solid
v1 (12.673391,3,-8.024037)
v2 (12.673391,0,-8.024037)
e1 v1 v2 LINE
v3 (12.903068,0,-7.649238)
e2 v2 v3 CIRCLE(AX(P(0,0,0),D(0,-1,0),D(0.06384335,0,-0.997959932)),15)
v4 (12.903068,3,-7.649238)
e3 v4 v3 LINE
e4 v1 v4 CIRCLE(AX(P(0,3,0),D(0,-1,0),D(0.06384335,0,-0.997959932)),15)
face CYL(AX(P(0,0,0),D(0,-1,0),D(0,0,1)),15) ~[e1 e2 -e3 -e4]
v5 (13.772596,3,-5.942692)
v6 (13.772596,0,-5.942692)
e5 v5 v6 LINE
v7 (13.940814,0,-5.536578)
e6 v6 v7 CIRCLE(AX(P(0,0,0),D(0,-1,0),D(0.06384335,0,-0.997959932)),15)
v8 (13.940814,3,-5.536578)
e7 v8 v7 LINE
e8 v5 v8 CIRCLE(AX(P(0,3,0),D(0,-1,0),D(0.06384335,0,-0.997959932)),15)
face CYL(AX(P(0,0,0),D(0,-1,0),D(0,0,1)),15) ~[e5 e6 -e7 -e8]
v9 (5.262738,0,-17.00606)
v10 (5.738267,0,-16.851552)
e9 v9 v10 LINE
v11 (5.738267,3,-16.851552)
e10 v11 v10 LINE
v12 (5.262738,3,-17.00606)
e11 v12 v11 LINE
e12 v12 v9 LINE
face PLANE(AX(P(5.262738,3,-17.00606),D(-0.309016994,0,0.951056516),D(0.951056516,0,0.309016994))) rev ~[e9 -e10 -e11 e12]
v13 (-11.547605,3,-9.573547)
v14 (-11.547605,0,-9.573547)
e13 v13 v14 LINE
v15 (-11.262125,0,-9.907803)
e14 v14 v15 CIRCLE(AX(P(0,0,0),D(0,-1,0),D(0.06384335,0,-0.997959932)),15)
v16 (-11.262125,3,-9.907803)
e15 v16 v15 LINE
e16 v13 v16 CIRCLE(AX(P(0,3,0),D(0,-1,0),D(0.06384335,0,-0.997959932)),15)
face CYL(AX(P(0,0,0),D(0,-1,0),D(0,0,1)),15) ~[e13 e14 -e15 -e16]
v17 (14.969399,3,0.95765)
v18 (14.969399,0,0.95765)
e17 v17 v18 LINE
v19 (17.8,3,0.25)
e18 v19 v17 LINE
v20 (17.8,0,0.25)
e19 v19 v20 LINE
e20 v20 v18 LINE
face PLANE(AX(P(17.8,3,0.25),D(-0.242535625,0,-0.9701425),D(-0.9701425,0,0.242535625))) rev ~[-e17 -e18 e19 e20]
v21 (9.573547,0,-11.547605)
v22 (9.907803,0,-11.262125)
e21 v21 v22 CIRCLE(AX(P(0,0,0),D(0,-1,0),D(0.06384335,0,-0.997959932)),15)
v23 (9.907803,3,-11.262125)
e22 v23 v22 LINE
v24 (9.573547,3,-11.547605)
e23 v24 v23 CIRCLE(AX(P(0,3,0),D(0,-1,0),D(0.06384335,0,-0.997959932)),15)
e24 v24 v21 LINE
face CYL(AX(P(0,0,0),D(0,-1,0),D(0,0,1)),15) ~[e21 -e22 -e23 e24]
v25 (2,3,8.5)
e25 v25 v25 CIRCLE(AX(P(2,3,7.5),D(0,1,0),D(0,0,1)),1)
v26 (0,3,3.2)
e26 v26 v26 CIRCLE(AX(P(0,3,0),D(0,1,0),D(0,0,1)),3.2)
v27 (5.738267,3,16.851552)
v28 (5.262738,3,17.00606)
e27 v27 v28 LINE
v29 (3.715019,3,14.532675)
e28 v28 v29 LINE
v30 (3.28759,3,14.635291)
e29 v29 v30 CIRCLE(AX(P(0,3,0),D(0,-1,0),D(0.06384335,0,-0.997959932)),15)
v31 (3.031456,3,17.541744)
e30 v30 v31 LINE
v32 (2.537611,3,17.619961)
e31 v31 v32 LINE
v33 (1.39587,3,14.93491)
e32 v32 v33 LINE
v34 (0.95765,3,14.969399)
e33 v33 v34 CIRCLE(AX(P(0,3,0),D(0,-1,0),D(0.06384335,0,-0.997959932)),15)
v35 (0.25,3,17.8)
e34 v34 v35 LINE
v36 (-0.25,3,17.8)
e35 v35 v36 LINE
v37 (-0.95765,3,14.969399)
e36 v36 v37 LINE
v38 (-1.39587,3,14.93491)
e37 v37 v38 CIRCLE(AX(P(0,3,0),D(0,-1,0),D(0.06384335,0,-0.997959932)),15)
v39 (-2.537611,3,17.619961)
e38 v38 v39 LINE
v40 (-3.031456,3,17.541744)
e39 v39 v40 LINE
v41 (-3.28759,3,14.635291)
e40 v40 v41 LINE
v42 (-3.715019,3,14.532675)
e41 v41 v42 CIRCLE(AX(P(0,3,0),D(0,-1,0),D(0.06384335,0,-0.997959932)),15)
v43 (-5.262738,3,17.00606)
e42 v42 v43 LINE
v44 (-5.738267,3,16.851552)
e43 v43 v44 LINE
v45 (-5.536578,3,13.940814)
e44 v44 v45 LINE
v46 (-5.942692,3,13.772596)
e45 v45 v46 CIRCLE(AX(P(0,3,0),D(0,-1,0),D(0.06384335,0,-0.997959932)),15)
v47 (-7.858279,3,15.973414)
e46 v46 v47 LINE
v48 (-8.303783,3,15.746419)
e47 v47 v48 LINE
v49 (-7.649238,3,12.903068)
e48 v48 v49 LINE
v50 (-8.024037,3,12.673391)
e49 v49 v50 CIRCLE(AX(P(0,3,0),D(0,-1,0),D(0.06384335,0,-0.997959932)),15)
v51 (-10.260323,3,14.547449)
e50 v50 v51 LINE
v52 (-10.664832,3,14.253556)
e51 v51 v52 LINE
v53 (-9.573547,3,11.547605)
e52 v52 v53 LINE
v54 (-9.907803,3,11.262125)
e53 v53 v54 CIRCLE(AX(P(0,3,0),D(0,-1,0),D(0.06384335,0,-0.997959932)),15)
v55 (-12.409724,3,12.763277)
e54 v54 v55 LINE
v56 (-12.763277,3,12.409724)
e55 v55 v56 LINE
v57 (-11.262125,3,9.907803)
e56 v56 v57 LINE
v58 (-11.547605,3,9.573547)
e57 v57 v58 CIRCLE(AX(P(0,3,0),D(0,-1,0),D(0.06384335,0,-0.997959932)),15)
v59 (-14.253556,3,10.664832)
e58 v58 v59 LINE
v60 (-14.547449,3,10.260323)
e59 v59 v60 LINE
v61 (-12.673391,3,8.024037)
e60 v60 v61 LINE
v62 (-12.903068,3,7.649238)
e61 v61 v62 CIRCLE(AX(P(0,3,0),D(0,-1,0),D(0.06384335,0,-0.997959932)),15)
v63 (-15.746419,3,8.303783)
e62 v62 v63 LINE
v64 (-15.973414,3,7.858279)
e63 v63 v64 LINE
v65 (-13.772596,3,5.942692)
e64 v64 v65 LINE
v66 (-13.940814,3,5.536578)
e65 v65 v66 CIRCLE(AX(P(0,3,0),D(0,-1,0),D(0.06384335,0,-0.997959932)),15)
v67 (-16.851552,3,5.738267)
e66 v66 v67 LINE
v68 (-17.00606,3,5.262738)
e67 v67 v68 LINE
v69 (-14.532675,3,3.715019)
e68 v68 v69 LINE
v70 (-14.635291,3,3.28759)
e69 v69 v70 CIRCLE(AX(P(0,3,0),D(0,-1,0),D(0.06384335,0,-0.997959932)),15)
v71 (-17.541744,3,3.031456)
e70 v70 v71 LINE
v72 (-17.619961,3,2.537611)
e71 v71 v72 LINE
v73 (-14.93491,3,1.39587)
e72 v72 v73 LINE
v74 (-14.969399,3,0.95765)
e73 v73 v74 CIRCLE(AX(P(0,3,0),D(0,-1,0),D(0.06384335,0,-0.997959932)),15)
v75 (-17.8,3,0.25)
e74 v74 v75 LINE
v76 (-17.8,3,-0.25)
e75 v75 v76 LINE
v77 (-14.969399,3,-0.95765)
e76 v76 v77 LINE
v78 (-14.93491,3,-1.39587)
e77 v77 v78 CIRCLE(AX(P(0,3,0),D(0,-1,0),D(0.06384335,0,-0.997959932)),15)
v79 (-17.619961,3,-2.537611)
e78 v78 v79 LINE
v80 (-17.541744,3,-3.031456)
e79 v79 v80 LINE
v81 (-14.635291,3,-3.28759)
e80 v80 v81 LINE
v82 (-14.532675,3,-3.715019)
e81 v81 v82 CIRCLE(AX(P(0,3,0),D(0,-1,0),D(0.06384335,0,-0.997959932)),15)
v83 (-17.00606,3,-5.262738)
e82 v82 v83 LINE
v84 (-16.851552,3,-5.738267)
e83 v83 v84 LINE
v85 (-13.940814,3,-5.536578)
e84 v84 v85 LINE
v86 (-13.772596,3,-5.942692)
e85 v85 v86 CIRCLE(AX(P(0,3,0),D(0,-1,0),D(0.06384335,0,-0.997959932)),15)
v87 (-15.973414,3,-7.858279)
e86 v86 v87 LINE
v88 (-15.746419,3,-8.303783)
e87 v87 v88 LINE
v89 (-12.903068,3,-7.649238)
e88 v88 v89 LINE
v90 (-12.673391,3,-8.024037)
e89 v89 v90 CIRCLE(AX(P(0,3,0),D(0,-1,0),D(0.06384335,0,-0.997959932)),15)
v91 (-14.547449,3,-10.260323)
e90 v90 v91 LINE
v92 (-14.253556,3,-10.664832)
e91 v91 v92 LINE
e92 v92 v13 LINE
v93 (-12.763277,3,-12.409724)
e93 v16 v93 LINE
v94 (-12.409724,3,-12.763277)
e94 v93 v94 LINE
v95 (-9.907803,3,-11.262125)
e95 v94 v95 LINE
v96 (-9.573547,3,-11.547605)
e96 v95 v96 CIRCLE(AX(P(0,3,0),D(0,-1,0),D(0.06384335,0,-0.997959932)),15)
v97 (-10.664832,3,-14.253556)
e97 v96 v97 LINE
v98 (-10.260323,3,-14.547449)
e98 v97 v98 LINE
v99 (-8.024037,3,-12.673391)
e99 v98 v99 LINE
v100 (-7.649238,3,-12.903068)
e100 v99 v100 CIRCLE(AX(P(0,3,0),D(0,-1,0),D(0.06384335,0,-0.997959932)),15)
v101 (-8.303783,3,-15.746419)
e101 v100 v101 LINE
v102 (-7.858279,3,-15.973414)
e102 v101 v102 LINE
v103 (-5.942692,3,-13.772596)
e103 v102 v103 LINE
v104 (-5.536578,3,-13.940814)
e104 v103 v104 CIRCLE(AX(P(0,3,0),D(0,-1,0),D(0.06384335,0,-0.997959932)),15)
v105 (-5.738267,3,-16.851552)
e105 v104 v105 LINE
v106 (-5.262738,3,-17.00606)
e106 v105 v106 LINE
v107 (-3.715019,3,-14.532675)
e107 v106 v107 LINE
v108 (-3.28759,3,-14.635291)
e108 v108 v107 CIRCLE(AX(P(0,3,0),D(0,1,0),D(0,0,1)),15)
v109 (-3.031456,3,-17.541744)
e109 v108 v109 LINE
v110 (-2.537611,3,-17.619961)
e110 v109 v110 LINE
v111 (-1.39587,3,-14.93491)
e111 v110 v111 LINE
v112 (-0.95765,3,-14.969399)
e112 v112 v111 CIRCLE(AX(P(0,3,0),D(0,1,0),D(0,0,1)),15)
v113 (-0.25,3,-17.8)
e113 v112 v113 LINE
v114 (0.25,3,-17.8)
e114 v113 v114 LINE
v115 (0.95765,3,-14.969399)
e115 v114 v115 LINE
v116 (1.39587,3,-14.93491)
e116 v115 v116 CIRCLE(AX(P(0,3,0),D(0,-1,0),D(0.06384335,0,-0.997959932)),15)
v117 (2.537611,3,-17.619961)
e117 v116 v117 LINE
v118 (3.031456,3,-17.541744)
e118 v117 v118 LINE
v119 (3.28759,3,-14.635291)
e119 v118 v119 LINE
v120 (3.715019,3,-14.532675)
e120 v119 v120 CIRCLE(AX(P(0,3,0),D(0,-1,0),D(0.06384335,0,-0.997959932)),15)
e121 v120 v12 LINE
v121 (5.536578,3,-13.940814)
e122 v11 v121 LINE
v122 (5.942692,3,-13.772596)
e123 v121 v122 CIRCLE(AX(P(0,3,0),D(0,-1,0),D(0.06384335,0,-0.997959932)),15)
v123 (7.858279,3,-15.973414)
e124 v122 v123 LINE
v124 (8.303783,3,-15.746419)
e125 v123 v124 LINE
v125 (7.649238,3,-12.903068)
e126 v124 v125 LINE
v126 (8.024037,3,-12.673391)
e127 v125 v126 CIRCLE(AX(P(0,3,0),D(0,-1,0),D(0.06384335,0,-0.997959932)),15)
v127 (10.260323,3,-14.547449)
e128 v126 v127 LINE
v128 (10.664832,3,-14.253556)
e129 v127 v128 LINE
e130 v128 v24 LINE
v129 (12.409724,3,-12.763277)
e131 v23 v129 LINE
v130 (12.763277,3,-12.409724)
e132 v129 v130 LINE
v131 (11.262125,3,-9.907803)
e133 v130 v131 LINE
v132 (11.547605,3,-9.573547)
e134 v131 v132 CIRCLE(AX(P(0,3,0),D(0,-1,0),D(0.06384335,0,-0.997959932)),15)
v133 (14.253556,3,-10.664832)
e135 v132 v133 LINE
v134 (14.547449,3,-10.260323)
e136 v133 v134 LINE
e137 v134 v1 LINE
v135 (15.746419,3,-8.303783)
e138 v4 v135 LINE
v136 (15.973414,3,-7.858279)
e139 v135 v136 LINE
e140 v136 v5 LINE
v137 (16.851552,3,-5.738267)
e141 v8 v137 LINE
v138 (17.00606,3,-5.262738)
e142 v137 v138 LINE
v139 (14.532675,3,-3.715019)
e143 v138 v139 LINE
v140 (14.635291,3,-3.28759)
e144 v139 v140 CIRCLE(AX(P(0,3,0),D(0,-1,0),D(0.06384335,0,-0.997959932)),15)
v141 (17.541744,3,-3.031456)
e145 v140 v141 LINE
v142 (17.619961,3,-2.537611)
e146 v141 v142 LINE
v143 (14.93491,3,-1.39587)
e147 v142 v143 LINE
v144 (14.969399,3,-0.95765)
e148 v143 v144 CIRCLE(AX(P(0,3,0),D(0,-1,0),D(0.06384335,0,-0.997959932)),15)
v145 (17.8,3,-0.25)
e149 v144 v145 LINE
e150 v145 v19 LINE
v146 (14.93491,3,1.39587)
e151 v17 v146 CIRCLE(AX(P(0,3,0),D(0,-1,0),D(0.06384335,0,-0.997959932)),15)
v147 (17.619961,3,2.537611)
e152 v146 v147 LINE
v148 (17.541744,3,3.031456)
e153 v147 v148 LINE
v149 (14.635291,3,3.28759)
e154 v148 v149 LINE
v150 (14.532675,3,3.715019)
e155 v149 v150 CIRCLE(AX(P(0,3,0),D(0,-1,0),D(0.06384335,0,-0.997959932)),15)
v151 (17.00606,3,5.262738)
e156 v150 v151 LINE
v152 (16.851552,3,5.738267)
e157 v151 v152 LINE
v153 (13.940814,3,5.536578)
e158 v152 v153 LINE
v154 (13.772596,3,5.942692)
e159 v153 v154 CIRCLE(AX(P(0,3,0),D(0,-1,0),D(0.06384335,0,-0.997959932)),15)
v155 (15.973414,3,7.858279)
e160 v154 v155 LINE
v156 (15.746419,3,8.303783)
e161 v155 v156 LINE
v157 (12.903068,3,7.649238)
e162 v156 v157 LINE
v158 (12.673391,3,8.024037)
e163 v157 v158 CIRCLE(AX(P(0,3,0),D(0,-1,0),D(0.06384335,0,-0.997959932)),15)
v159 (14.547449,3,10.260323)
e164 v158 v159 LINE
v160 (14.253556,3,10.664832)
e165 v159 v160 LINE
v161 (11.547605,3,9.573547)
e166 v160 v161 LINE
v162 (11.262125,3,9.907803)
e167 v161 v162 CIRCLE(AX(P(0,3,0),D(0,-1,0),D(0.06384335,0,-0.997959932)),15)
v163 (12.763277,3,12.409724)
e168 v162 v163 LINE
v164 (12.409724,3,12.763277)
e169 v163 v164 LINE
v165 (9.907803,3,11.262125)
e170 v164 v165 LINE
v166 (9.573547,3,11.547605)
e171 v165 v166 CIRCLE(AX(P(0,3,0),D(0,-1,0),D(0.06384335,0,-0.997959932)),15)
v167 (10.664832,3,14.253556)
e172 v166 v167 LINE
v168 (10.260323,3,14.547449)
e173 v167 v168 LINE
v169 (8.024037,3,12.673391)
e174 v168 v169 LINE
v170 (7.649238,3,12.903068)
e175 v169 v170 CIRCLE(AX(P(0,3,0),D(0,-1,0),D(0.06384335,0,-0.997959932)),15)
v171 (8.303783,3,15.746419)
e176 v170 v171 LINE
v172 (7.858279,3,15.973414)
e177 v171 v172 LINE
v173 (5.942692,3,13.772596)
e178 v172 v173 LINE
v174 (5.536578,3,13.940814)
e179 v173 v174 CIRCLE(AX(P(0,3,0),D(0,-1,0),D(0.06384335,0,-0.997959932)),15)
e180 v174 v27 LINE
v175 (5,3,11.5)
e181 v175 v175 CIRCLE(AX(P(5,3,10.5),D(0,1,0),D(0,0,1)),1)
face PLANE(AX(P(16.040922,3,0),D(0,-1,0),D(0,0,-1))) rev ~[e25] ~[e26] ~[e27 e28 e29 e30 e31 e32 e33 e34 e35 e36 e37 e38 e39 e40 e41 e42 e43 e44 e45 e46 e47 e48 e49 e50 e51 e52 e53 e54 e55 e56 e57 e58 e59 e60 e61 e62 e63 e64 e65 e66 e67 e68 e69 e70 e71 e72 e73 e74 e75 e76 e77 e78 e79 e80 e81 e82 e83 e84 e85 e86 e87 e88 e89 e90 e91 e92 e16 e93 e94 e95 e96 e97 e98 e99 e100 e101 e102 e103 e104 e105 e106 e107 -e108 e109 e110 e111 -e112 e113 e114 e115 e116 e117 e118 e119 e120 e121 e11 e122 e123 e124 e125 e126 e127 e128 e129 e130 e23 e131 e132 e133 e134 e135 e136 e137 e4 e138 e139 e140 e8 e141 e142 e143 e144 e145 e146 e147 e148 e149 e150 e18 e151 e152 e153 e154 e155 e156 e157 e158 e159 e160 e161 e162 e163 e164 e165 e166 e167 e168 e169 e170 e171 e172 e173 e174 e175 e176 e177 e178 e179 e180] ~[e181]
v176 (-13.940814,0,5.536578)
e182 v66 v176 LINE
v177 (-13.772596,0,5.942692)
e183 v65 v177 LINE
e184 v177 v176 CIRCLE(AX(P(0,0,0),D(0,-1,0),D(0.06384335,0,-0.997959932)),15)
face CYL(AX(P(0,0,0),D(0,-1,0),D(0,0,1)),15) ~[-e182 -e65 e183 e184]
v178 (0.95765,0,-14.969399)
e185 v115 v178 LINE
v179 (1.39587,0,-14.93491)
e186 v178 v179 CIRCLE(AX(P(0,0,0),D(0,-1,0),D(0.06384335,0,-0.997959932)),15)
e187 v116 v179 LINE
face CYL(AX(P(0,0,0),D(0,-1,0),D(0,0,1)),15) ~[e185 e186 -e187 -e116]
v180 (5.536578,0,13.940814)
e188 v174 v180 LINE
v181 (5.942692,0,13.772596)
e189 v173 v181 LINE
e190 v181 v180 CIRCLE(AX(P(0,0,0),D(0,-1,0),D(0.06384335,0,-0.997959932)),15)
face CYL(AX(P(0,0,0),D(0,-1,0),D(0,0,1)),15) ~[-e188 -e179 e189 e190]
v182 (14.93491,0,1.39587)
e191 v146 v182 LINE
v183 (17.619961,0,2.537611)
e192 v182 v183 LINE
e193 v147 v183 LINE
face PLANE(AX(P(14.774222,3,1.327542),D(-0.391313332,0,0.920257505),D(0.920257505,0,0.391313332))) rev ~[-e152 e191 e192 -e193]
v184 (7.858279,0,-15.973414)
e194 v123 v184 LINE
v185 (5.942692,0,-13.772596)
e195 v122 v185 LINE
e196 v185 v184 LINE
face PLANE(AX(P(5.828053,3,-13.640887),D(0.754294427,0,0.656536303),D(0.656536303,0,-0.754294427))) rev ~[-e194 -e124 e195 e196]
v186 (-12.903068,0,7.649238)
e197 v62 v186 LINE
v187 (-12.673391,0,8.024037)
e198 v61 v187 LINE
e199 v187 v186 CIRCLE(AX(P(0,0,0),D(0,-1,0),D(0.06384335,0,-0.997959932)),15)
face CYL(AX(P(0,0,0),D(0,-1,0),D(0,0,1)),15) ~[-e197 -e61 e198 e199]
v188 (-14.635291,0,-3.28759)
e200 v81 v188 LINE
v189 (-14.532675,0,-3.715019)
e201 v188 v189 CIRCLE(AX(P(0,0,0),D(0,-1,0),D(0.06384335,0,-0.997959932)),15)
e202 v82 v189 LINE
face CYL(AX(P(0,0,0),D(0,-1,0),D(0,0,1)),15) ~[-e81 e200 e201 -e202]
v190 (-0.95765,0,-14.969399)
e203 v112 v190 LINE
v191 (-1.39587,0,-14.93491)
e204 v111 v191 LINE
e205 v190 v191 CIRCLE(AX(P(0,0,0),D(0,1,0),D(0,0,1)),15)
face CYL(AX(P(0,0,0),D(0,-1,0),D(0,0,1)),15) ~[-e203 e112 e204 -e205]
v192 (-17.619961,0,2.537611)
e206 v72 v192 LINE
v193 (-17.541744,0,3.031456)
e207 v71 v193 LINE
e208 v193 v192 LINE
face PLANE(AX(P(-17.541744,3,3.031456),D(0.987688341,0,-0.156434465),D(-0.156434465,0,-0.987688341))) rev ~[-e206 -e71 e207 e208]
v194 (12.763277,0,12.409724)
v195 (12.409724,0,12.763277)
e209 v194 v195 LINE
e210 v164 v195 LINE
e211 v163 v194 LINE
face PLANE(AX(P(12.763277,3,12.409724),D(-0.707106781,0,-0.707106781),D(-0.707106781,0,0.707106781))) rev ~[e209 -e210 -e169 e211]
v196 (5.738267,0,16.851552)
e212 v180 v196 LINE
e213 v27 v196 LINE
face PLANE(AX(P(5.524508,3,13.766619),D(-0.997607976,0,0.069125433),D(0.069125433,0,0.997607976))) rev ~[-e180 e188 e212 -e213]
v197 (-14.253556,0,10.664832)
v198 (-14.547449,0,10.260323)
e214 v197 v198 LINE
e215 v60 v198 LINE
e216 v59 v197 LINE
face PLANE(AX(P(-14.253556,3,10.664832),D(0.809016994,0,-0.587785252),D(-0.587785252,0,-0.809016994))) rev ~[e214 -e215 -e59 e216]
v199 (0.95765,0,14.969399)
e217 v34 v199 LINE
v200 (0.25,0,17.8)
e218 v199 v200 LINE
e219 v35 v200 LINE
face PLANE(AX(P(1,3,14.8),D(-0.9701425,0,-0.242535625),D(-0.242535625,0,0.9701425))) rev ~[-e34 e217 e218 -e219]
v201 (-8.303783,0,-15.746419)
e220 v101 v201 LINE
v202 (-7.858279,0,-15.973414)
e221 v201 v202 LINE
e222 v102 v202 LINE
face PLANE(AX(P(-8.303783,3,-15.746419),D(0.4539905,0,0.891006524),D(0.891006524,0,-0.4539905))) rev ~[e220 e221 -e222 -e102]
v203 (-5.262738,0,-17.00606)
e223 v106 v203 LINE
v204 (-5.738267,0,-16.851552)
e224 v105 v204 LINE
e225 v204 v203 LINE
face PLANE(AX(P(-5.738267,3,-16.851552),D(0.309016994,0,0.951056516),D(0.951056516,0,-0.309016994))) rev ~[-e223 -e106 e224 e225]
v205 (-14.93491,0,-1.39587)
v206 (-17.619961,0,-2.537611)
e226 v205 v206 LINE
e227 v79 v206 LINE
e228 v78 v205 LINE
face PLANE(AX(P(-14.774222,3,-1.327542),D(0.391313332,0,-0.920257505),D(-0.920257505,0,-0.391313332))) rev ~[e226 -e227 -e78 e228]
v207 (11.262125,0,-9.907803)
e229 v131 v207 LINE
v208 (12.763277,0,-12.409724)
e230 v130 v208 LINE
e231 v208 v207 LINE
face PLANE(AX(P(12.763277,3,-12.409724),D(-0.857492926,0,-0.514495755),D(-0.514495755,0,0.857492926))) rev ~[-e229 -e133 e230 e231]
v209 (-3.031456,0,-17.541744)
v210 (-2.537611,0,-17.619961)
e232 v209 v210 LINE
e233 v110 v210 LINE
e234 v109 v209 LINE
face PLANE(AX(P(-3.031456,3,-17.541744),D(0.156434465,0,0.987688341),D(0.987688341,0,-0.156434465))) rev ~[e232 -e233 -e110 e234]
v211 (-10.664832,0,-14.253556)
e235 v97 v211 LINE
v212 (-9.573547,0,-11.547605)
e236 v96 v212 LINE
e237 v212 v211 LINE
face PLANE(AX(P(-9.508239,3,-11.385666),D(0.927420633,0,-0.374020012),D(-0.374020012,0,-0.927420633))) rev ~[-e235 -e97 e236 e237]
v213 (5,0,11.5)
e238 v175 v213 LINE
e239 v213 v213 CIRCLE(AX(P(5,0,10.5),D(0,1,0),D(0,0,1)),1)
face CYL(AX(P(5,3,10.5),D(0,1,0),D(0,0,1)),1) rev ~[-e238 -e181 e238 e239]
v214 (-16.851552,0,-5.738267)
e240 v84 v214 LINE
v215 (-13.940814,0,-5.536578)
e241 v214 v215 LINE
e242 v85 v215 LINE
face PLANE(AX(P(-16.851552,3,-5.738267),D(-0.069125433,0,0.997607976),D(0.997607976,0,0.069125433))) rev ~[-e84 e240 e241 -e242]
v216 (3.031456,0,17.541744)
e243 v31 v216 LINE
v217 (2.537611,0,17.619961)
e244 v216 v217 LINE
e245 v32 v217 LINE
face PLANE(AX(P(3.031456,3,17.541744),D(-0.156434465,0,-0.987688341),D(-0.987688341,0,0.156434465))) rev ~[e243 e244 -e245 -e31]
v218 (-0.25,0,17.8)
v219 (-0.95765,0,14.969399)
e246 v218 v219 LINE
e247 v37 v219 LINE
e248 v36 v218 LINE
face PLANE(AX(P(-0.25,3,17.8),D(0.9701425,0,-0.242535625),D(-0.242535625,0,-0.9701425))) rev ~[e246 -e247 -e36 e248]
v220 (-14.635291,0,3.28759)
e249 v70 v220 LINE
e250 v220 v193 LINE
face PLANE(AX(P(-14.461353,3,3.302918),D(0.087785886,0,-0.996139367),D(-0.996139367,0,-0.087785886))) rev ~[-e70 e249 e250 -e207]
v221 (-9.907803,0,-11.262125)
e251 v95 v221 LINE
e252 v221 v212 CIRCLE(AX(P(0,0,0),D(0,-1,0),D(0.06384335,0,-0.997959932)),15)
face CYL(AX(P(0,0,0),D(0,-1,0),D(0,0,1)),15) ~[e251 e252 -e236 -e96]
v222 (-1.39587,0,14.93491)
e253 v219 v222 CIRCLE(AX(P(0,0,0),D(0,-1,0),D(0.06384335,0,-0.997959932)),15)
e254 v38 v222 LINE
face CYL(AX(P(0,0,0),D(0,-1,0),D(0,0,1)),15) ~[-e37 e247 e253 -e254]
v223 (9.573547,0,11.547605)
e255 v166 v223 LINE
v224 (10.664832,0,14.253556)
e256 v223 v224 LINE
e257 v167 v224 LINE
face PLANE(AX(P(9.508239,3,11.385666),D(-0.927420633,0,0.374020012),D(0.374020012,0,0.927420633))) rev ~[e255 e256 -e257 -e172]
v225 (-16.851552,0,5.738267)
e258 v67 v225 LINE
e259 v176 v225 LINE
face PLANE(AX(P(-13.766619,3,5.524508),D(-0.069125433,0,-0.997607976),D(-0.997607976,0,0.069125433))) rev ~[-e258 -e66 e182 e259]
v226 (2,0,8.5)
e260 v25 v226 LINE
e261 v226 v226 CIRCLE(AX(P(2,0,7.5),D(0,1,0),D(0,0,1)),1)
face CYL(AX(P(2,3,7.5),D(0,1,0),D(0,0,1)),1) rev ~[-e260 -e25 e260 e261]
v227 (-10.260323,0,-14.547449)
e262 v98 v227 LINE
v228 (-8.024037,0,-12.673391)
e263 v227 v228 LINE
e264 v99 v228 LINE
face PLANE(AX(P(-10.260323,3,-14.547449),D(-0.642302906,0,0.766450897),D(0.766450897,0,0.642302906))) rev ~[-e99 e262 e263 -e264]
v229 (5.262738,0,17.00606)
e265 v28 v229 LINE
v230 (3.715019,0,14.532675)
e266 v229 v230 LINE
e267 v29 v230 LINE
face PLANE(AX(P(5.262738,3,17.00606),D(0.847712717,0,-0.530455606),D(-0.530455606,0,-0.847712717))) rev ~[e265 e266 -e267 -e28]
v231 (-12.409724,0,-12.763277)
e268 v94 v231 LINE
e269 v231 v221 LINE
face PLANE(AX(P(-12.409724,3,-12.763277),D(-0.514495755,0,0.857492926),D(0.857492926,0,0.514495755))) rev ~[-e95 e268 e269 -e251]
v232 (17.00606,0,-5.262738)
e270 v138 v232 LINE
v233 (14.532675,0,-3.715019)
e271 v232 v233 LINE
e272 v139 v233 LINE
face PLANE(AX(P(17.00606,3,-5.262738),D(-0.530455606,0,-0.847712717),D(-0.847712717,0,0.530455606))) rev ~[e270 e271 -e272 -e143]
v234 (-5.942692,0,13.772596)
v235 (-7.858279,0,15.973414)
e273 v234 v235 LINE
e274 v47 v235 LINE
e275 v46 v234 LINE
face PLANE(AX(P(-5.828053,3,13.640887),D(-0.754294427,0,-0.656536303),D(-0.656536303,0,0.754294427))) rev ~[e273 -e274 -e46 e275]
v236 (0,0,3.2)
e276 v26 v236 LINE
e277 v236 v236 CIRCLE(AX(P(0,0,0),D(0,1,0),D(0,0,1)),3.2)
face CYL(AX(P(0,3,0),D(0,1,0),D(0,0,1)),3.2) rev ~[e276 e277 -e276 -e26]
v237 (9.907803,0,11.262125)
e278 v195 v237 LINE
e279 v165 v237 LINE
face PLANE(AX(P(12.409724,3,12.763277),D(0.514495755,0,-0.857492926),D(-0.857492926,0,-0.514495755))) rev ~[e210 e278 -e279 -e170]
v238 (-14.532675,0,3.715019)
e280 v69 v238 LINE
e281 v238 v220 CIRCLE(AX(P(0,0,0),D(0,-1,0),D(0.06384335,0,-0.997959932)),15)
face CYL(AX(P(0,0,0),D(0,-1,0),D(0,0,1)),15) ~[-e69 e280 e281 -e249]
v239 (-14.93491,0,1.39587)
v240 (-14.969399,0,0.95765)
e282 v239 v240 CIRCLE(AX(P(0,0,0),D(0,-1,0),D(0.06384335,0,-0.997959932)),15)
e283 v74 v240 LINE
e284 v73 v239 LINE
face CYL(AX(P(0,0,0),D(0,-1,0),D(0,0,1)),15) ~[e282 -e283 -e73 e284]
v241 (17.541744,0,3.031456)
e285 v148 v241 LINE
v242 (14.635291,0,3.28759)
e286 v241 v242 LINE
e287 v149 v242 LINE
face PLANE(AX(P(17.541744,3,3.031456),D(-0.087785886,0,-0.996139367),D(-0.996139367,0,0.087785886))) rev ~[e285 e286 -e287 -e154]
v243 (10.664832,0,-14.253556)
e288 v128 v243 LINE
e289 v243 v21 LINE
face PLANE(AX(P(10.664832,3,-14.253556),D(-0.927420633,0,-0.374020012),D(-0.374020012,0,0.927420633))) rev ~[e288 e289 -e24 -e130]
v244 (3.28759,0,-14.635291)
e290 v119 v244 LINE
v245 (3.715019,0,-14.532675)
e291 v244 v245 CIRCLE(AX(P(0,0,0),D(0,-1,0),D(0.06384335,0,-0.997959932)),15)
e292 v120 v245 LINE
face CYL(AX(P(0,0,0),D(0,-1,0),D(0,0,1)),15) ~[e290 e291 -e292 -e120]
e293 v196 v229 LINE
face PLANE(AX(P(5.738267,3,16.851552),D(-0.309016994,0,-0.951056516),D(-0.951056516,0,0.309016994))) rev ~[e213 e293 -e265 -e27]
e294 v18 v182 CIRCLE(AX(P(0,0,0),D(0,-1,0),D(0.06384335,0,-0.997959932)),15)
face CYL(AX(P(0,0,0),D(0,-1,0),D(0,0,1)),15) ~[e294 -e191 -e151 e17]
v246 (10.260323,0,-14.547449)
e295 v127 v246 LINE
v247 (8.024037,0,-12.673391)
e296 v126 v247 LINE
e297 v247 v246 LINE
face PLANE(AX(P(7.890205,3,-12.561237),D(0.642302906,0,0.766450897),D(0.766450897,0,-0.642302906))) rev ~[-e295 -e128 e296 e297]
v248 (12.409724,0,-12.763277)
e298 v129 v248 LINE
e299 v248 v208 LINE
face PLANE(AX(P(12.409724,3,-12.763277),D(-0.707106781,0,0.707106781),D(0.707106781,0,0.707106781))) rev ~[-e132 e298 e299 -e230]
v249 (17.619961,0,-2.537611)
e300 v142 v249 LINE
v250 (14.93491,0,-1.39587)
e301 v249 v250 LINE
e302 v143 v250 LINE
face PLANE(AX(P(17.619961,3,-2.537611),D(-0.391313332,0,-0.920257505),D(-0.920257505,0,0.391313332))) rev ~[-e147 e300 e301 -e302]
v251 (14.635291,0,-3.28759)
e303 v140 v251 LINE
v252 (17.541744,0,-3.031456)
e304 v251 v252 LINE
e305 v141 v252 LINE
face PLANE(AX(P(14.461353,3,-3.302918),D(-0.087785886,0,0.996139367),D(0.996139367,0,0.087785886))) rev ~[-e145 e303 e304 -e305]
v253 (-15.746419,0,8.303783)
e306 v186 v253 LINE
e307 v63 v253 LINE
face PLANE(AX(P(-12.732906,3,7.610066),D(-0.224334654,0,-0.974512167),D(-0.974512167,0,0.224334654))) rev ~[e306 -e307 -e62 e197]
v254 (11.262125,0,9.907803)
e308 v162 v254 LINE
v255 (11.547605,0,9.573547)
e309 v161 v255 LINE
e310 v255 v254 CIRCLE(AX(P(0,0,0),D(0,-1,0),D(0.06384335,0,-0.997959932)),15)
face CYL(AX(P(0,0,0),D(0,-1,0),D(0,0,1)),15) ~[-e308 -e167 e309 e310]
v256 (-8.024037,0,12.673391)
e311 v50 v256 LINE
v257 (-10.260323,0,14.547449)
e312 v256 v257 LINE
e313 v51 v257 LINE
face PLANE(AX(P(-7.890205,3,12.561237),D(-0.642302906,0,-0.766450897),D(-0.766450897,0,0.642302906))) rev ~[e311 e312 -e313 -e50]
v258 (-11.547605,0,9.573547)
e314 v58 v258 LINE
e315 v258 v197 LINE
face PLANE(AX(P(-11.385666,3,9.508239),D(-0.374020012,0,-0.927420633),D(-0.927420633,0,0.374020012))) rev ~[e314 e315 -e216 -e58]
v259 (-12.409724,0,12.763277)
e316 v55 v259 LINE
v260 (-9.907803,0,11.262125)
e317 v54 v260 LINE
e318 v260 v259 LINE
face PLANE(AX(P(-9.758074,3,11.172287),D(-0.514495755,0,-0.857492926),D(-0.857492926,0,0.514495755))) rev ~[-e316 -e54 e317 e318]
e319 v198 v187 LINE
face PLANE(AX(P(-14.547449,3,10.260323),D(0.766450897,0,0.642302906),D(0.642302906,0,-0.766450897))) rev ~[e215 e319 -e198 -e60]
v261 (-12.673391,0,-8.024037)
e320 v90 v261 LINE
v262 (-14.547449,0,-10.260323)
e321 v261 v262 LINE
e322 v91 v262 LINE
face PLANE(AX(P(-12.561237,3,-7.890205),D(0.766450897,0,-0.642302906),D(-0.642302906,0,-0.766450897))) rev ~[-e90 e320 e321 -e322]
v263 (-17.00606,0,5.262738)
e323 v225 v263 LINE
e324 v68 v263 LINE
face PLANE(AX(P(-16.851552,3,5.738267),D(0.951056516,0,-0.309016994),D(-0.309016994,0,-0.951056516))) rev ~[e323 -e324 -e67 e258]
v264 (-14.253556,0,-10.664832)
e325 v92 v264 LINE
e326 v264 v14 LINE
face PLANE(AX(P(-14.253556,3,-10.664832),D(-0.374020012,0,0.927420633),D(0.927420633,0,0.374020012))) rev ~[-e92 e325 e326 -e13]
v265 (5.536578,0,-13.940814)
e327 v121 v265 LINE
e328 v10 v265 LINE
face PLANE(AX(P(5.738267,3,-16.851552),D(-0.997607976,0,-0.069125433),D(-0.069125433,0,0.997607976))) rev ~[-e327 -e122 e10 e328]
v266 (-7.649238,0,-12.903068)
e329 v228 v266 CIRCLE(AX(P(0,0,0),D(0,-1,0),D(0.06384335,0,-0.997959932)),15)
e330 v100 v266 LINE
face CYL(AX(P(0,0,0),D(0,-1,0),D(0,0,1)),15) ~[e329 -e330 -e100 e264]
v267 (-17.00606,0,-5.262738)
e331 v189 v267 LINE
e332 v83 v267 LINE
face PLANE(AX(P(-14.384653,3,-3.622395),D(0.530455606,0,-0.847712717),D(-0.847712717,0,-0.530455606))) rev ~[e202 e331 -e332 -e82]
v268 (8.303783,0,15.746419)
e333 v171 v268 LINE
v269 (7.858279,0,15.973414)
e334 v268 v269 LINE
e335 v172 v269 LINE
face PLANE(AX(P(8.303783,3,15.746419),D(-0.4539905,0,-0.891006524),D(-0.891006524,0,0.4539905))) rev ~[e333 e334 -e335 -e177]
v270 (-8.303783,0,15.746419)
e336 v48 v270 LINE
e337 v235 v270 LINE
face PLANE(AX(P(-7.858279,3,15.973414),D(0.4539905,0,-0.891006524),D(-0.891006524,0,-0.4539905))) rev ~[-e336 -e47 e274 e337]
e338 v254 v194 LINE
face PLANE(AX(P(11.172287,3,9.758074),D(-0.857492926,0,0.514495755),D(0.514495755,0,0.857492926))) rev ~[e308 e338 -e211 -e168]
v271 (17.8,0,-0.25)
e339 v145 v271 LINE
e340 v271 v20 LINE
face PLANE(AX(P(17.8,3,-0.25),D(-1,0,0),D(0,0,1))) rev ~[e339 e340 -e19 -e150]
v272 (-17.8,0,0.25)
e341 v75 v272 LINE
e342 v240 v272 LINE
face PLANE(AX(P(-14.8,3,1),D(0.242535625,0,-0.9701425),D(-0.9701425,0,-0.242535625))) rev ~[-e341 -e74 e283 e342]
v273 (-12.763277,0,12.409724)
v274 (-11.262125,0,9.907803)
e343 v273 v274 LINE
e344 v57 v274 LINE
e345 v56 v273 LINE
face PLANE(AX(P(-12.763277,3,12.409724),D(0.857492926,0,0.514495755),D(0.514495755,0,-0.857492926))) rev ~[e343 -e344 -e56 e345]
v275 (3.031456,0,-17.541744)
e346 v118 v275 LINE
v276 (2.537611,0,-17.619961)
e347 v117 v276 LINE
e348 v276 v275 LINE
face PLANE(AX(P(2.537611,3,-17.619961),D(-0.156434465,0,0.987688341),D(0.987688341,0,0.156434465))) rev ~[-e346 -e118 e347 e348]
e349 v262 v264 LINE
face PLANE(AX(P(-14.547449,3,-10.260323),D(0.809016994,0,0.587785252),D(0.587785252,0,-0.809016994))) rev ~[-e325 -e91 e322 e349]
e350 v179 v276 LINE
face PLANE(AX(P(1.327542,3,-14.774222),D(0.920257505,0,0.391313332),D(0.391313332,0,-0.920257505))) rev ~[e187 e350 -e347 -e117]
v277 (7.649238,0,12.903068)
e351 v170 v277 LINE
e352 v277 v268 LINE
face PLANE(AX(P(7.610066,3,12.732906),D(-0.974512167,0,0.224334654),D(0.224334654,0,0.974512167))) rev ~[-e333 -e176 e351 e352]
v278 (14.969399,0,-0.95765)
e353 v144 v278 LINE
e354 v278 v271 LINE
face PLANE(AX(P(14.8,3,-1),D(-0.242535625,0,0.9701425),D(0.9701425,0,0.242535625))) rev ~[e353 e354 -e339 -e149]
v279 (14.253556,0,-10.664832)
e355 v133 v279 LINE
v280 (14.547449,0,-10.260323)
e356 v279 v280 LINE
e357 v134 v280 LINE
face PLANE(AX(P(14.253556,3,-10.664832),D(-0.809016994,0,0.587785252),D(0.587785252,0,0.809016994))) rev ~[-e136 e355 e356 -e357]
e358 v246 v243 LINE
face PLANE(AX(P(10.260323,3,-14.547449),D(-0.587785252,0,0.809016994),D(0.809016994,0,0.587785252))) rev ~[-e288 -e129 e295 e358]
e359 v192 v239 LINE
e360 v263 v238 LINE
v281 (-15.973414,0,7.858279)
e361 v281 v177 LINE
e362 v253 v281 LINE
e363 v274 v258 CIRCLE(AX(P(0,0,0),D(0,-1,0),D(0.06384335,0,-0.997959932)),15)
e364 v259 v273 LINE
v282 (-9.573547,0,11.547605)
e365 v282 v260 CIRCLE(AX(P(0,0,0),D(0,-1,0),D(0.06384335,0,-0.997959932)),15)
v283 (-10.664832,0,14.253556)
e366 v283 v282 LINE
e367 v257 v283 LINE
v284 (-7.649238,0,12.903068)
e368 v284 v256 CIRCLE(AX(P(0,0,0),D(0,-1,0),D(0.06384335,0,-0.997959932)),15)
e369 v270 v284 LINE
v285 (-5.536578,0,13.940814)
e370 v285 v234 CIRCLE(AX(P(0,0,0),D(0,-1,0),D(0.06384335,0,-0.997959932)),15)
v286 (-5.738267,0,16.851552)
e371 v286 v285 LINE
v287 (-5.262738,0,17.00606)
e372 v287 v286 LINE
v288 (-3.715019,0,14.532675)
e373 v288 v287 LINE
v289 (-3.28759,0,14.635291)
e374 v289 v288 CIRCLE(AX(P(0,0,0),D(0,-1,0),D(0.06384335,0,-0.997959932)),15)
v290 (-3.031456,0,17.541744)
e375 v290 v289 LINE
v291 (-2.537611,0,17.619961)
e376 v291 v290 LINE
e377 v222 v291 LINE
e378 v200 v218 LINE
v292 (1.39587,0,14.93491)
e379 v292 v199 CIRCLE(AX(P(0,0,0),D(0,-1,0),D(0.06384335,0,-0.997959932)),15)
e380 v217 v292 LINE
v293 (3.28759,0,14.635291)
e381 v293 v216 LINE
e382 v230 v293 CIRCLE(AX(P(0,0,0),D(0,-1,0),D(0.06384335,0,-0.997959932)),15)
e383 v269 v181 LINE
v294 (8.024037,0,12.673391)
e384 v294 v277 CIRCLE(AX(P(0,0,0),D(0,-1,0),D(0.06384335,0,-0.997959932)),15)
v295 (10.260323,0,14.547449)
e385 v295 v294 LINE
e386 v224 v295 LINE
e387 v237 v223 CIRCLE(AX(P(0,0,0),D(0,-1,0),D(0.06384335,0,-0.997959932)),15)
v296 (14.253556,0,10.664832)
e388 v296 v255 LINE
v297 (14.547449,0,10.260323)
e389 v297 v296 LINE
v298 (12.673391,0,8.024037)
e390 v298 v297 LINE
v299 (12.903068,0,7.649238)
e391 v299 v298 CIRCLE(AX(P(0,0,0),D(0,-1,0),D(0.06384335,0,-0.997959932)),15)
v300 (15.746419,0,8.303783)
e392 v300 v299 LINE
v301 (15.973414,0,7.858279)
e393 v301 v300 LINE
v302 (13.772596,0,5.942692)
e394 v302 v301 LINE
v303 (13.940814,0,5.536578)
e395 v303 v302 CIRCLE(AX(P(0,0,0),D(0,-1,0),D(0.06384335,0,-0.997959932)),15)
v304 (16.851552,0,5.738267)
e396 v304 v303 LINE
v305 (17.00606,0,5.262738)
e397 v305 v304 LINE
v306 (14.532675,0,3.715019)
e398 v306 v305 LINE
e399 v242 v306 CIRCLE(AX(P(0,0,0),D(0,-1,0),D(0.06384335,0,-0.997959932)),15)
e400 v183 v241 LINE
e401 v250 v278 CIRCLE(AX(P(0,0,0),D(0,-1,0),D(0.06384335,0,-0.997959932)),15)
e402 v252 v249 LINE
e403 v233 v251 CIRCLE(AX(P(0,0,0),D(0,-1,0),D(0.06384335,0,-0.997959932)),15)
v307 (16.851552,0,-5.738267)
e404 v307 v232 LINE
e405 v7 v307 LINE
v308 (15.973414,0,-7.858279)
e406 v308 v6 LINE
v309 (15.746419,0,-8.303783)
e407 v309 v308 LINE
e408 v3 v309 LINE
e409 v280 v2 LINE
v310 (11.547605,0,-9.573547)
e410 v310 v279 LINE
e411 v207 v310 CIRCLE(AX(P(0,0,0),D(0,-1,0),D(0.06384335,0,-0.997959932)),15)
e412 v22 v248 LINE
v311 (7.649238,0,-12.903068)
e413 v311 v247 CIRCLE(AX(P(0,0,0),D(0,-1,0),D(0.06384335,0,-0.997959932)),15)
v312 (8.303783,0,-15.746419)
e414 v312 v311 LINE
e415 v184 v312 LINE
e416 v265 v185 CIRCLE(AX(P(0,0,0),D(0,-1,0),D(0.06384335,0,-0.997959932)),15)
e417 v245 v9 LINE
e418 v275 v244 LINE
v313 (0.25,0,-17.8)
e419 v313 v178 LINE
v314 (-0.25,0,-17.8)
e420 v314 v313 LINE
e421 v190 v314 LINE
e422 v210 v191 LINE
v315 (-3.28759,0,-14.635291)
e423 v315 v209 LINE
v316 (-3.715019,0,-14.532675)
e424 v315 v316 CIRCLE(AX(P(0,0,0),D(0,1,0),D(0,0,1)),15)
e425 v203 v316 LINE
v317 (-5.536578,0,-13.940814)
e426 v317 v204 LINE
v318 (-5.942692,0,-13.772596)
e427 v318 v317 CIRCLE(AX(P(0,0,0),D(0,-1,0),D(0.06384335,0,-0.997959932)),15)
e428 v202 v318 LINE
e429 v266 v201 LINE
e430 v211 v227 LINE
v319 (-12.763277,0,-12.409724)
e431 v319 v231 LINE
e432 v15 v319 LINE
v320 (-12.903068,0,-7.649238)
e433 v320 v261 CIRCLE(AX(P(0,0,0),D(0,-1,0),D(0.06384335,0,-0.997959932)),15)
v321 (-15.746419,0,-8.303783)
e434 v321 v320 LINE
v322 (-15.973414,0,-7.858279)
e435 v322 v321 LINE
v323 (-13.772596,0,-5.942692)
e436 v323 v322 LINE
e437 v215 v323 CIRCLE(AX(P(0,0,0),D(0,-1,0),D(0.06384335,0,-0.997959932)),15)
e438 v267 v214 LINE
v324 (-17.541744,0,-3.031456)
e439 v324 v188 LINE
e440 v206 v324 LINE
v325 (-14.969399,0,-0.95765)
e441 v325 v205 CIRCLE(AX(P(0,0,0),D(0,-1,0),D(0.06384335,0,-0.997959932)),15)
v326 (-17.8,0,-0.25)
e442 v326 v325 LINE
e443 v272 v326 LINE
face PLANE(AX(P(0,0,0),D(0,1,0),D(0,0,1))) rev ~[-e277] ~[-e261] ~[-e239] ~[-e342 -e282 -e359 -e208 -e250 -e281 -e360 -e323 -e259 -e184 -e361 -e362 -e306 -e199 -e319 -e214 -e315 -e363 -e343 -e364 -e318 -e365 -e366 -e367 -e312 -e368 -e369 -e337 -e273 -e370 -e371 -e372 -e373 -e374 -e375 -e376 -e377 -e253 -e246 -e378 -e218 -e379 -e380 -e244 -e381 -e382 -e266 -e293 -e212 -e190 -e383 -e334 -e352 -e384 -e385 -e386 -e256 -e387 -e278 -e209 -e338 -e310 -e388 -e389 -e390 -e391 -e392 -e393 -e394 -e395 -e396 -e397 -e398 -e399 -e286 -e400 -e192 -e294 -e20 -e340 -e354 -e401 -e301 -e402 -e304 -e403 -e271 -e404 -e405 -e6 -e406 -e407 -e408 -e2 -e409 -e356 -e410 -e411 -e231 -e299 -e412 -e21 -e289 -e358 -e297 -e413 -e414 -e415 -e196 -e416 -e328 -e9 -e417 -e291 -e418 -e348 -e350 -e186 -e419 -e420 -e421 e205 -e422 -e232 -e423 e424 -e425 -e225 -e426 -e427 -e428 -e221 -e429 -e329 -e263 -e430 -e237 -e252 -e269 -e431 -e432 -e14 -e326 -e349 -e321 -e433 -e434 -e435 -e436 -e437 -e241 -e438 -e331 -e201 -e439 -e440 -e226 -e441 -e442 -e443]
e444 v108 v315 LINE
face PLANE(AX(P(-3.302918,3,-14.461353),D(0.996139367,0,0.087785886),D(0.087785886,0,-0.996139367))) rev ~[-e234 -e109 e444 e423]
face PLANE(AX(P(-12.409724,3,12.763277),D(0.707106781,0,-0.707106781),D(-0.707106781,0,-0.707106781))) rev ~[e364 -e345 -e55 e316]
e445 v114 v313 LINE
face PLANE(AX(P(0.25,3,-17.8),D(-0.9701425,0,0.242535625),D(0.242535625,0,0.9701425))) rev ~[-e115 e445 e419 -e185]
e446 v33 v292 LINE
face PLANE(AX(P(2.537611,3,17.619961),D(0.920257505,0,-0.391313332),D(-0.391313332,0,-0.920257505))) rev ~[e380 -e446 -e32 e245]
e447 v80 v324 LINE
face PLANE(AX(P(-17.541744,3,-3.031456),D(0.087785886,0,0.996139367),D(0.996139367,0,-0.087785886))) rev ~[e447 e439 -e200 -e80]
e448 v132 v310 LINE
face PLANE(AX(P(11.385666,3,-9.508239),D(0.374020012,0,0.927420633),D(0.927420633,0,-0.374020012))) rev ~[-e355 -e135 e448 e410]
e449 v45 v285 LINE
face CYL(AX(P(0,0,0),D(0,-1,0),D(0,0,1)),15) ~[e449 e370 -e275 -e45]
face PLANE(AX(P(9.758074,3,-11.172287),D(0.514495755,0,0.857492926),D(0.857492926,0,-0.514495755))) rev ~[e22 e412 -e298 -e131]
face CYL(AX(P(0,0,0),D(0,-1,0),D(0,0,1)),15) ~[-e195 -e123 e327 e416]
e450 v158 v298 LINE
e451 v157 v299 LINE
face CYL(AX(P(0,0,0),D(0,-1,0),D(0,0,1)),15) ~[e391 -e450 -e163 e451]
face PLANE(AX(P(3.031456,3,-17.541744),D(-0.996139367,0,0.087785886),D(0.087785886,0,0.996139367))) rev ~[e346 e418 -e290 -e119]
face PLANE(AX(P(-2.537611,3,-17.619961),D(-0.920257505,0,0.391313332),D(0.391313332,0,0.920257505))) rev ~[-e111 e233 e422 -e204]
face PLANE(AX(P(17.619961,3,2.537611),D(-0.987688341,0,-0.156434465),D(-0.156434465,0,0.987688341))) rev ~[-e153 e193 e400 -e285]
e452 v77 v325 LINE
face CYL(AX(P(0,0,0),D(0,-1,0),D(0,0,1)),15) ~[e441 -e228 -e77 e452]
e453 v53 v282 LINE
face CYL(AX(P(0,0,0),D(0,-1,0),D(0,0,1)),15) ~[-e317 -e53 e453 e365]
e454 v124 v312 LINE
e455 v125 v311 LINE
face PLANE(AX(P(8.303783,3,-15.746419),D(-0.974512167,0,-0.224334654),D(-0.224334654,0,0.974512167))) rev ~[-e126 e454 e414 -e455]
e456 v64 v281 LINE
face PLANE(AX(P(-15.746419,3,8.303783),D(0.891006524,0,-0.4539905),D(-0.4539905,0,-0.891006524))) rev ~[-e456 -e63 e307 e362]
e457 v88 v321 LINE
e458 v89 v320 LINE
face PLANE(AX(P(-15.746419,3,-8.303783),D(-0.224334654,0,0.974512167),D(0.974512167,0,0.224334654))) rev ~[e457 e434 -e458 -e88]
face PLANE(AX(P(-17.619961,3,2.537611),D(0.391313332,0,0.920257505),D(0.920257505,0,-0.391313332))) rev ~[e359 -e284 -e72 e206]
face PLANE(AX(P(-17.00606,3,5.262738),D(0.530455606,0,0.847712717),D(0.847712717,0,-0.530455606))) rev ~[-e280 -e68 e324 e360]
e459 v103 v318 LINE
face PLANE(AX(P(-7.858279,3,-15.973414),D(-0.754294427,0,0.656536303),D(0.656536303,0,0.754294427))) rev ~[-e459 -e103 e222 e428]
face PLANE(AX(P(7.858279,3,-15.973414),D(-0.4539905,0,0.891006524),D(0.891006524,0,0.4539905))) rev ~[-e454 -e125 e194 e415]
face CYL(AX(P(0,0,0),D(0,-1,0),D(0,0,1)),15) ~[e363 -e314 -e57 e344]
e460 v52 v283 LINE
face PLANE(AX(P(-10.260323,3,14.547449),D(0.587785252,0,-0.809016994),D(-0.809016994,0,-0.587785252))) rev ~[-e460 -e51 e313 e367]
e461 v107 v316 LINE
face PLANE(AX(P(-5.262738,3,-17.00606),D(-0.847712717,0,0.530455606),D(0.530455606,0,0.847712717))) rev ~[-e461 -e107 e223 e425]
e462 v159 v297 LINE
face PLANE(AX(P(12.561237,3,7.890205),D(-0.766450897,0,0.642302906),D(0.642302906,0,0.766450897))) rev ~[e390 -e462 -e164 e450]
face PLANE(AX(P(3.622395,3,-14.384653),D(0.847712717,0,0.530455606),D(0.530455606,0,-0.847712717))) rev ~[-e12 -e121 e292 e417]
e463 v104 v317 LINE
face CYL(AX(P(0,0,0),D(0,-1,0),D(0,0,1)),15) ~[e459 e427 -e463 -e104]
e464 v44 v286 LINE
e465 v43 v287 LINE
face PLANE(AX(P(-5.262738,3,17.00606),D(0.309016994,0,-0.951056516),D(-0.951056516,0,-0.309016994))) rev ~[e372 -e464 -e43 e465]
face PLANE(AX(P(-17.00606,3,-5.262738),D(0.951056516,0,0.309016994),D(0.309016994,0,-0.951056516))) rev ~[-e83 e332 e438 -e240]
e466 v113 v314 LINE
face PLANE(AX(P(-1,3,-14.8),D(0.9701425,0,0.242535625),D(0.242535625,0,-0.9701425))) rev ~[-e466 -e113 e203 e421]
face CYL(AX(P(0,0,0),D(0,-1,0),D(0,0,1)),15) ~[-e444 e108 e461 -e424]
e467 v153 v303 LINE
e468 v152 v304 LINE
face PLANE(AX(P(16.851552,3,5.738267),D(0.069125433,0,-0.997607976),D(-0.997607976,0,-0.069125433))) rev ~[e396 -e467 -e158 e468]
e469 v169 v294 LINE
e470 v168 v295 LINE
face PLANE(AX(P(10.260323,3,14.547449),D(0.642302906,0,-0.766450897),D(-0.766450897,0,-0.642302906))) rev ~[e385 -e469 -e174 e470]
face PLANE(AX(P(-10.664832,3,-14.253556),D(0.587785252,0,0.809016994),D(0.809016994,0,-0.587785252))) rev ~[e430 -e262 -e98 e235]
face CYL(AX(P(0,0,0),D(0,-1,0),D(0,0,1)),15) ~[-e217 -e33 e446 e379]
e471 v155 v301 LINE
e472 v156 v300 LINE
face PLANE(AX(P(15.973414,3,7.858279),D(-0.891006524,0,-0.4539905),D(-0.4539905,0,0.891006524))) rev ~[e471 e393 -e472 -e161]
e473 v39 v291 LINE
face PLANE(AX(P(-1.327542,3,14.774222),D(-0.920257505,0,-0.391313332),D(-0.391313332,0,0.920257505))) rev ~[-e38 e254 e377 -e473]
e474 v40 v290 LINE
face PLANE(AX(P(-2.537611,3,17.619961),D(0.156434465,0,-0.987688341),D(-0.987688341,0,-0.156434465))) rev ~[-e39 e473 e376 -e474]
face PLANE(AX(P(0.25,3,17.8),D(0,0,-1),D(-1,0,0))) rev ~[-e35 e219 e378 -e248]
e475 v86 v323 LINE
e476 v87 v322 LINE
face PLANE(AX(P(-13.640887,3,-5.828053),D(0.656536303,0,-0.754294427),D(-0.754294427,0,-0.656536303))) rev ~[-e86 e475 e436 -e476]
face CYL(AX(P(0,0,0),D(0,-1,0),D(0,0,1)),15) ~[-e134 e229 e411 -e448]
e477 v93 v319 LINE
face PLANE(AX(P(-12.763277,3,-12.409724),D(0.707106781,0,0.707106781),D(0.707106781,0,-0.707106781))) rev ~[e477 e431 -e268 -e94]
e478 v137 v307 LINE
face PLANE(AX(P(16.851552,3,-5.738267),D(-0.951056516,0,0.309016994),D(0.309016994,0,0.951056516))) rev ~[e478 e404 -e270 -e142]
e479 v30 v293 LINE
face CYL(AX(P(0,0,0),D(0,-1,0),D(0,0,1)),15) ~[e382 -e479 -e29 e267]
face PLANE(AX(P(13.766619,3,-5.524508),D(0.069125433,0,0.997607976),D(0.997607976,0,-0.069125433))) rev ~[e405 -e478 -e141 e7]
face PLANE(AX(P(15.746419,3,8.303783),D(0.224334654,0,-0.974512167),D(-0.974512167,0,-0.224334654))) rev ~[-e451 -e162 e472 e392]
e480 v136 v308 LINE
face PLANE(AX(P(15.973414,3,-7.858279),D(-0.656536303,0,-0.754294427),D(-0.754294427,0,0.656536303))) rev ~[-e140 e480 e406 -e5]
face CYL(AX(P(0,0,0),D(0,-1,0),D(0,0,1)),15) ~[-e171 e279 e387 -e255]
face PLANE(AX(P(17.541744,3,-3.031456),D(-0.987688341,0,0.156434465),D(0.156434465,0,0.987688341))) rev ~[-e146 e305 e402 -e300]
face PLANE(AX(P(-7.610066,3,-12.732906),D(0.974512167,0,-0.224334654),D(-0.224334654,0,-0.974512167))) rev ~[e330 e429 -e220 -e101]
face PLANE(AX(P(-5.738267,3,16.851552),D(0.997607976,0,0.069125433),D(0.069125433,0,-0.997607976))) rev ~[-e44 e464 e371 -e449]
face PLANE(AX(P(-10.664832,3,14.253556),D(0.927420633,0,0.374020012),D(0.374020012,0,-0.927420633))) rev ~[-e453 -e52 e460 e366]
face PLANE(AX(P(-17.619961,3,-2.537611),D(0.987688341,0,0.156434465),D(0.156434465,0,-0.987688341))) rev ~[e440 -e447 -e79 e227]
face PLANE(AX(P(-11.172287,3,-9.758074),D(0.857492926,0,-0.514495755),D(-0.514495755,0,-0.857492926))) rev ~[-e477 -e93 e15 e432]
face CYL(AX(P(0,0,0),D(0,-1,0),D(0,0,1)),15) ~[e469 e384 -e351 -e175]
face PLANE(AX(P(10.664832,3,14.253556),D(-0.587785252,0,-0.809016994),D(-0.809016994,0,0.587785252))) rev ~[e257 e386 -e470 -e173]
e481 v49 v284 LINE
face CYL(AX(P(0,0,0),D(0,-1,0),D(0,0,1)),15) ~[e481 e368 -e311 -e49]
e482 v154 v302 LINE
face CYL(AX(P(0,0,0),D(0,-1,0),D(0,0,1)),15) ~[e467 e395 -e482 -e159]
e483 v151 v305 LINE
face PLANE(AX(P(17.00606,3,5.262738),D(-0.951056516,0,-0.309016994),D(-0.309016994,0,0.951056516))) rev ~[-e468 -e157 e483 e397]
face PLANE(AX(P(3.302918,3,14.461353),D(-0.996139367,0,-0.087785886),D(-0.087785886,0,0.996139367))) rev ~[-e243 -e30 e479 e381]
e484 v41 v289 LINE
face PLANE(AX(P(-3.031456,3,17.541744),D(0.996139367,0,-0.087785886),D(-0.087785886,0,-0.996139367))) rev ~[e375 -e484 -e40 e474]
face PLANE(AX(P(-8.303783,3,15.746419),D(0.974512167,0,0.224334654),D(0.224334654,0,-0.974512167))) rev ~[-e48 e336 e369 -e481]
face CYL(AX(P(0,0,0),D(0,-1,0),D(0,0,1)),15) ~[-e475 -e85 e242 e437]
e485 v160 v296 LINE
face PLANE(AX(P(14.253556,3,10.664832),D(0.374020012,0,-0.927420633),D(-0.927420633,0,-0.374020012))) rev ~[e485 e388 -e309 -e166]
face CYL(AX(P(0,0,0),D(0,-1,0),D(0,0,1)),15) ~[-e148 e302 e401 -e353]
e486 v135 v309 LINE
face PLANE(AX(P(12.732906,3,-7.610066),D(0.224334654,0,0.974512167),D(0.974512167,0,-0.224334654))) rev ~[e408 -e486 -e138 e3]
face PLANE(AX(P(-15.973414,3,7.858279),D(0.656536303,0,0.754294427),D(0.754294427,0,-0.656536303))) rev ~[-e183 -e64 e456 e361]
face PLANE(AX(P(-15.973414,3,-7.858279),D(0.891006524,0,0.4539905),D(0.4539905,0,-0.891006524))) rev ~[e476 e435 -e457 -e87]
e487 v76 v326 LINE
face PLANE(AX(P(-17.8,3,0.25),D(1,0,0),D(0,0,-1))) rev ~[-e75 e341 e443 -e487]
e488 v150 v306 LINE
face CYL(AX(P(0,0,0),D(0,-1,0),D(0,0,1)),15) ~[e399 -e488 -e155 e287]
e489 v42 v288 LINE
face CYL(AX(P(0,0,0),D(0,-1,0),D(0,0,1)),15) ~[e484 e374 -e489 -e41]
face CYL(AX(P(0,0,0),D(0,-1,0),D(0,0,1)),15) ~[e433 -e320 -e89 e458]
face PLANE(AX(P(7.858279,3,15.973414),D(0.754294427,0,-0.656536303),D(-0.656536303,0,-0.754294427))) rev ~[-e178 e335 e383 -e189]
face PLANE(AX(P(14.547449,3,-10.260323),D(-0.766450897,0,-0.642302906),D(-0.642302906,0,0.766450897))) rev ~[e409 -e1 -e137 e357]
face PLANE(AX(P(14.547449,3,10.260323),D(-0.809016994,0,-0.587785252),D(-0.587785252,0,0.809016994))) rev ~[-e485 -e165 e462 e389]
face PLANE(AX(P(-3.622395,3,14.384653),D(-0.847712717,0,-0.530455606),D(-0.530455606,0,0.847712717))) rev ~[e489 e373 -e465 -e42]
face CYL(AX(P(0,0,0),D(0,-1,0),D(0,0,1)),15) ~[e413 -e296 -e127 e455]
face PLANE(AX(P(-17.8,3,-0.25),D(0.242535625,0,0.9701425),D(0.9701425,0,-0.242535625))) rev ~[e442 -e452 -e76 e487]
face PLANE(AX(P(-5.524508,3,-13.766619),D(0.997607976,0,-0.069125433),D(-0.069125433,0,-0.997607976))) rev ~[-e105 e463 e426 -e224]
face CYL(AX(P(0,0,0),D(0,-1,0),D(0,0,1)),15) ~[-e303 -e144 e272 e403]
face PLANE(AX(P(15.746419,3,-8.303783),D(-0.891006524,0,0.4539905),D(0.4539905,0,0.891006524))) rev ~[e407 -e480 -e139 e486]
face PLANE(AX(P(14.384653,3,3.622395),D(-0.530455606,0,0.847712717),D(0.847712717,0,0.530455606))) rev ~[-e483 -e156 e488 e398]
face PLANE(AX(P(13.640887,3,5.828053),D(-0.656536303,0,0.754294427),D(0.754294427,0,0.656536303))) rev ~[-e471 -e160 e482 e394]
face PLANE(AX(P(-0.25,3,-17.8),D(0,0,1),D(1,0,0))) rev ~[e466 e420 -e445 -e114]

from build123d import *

# Parameters (mm, degrees)
SKETCH1_R           = 15
BOSS_EXTRUDE1_DEPTH = 3
BOSS_EXTRUDE2_DEPTH = 3
CIRPATTERN1_COUNT   = 40
SKETCH4_R           = 3.2
CUT_EXTRUDE1_DEPTH  = 3
SKETCH5_R           = 1
CUT_EXTRUDE2_DEPTH  = 3


with BuildPart() as part:
    # Sketch1 → Boss-Extrude1 (new body)
    with BuildSketch(Plane(origin=(0, 0, 0), x_dir=(1, 0, 0), z_dir=(0, 1, 0))):
        with Locations(Location((0, 0, 0), (0, 0, 270))):
            Circle(SKETCH1_R)
    extrude(amount=BOSS_EXTRUDE1_DEPTH)

    # Sketch3 → Boss-Extrude2 (add)
    with BuildSketch(Plane(origin=(0, 3, 0), x_dir=(1, 0, 0), z_dir=(0, 1, 0))):
        Polygon((-1, 14.8), (-0.25, 17.8), (0.25, 17.8), (1, 14.8), align=None)
    boss_extrude2 = extrude(amount=-BOSS_EXTRUDE2_DEPTH)

    # CirPattern1: Boss-Extrude2 ×40 about axis
    cirpattern1_axis = Axis((0, 0, 0), (0, 1, 0))
    for i in range(1, CIRPATTERN1_COUNT):
        add(boss_extrude2.rotate(cirpattern1_axis, i * 360 / CIRPATTERN1_COUNT))

    # Sketch4 → Cut-Extrude1 (cut)
    with BuildSketch(Plane(origin=(0, 3, 0), x_dir=(1, 0, 0), z_dir=(0, 1, 0))):
        with Locations(Location((0, 0, 0), (0, 0, 270))):
            Circle(SKETCH4_R)
    extrude(amount=-CUT_EXTRUDE1_DEPTH, mode=Mode.SUBTRACT)

    # Sketch5 → Cut-Extrude2 (cut)
    with BuildSketch(Plane(origin=(0, 3, 0), x_dir=(1, 0, 0), z_dir=(0, 1, 0))):
        with Locations(Location((2, -7.5, 0), (0, 0, 270))):
            Circle(SKETCH5_R)
        with Locations(Location((5, -10.5, 0), (0, 0, 270))):
            Circle(SKETCH5_R)
    extrude(amount=-CUT_EXTRUDE2_DEPTH, mode=Mode.SUBTRACT)


solid = part.part
